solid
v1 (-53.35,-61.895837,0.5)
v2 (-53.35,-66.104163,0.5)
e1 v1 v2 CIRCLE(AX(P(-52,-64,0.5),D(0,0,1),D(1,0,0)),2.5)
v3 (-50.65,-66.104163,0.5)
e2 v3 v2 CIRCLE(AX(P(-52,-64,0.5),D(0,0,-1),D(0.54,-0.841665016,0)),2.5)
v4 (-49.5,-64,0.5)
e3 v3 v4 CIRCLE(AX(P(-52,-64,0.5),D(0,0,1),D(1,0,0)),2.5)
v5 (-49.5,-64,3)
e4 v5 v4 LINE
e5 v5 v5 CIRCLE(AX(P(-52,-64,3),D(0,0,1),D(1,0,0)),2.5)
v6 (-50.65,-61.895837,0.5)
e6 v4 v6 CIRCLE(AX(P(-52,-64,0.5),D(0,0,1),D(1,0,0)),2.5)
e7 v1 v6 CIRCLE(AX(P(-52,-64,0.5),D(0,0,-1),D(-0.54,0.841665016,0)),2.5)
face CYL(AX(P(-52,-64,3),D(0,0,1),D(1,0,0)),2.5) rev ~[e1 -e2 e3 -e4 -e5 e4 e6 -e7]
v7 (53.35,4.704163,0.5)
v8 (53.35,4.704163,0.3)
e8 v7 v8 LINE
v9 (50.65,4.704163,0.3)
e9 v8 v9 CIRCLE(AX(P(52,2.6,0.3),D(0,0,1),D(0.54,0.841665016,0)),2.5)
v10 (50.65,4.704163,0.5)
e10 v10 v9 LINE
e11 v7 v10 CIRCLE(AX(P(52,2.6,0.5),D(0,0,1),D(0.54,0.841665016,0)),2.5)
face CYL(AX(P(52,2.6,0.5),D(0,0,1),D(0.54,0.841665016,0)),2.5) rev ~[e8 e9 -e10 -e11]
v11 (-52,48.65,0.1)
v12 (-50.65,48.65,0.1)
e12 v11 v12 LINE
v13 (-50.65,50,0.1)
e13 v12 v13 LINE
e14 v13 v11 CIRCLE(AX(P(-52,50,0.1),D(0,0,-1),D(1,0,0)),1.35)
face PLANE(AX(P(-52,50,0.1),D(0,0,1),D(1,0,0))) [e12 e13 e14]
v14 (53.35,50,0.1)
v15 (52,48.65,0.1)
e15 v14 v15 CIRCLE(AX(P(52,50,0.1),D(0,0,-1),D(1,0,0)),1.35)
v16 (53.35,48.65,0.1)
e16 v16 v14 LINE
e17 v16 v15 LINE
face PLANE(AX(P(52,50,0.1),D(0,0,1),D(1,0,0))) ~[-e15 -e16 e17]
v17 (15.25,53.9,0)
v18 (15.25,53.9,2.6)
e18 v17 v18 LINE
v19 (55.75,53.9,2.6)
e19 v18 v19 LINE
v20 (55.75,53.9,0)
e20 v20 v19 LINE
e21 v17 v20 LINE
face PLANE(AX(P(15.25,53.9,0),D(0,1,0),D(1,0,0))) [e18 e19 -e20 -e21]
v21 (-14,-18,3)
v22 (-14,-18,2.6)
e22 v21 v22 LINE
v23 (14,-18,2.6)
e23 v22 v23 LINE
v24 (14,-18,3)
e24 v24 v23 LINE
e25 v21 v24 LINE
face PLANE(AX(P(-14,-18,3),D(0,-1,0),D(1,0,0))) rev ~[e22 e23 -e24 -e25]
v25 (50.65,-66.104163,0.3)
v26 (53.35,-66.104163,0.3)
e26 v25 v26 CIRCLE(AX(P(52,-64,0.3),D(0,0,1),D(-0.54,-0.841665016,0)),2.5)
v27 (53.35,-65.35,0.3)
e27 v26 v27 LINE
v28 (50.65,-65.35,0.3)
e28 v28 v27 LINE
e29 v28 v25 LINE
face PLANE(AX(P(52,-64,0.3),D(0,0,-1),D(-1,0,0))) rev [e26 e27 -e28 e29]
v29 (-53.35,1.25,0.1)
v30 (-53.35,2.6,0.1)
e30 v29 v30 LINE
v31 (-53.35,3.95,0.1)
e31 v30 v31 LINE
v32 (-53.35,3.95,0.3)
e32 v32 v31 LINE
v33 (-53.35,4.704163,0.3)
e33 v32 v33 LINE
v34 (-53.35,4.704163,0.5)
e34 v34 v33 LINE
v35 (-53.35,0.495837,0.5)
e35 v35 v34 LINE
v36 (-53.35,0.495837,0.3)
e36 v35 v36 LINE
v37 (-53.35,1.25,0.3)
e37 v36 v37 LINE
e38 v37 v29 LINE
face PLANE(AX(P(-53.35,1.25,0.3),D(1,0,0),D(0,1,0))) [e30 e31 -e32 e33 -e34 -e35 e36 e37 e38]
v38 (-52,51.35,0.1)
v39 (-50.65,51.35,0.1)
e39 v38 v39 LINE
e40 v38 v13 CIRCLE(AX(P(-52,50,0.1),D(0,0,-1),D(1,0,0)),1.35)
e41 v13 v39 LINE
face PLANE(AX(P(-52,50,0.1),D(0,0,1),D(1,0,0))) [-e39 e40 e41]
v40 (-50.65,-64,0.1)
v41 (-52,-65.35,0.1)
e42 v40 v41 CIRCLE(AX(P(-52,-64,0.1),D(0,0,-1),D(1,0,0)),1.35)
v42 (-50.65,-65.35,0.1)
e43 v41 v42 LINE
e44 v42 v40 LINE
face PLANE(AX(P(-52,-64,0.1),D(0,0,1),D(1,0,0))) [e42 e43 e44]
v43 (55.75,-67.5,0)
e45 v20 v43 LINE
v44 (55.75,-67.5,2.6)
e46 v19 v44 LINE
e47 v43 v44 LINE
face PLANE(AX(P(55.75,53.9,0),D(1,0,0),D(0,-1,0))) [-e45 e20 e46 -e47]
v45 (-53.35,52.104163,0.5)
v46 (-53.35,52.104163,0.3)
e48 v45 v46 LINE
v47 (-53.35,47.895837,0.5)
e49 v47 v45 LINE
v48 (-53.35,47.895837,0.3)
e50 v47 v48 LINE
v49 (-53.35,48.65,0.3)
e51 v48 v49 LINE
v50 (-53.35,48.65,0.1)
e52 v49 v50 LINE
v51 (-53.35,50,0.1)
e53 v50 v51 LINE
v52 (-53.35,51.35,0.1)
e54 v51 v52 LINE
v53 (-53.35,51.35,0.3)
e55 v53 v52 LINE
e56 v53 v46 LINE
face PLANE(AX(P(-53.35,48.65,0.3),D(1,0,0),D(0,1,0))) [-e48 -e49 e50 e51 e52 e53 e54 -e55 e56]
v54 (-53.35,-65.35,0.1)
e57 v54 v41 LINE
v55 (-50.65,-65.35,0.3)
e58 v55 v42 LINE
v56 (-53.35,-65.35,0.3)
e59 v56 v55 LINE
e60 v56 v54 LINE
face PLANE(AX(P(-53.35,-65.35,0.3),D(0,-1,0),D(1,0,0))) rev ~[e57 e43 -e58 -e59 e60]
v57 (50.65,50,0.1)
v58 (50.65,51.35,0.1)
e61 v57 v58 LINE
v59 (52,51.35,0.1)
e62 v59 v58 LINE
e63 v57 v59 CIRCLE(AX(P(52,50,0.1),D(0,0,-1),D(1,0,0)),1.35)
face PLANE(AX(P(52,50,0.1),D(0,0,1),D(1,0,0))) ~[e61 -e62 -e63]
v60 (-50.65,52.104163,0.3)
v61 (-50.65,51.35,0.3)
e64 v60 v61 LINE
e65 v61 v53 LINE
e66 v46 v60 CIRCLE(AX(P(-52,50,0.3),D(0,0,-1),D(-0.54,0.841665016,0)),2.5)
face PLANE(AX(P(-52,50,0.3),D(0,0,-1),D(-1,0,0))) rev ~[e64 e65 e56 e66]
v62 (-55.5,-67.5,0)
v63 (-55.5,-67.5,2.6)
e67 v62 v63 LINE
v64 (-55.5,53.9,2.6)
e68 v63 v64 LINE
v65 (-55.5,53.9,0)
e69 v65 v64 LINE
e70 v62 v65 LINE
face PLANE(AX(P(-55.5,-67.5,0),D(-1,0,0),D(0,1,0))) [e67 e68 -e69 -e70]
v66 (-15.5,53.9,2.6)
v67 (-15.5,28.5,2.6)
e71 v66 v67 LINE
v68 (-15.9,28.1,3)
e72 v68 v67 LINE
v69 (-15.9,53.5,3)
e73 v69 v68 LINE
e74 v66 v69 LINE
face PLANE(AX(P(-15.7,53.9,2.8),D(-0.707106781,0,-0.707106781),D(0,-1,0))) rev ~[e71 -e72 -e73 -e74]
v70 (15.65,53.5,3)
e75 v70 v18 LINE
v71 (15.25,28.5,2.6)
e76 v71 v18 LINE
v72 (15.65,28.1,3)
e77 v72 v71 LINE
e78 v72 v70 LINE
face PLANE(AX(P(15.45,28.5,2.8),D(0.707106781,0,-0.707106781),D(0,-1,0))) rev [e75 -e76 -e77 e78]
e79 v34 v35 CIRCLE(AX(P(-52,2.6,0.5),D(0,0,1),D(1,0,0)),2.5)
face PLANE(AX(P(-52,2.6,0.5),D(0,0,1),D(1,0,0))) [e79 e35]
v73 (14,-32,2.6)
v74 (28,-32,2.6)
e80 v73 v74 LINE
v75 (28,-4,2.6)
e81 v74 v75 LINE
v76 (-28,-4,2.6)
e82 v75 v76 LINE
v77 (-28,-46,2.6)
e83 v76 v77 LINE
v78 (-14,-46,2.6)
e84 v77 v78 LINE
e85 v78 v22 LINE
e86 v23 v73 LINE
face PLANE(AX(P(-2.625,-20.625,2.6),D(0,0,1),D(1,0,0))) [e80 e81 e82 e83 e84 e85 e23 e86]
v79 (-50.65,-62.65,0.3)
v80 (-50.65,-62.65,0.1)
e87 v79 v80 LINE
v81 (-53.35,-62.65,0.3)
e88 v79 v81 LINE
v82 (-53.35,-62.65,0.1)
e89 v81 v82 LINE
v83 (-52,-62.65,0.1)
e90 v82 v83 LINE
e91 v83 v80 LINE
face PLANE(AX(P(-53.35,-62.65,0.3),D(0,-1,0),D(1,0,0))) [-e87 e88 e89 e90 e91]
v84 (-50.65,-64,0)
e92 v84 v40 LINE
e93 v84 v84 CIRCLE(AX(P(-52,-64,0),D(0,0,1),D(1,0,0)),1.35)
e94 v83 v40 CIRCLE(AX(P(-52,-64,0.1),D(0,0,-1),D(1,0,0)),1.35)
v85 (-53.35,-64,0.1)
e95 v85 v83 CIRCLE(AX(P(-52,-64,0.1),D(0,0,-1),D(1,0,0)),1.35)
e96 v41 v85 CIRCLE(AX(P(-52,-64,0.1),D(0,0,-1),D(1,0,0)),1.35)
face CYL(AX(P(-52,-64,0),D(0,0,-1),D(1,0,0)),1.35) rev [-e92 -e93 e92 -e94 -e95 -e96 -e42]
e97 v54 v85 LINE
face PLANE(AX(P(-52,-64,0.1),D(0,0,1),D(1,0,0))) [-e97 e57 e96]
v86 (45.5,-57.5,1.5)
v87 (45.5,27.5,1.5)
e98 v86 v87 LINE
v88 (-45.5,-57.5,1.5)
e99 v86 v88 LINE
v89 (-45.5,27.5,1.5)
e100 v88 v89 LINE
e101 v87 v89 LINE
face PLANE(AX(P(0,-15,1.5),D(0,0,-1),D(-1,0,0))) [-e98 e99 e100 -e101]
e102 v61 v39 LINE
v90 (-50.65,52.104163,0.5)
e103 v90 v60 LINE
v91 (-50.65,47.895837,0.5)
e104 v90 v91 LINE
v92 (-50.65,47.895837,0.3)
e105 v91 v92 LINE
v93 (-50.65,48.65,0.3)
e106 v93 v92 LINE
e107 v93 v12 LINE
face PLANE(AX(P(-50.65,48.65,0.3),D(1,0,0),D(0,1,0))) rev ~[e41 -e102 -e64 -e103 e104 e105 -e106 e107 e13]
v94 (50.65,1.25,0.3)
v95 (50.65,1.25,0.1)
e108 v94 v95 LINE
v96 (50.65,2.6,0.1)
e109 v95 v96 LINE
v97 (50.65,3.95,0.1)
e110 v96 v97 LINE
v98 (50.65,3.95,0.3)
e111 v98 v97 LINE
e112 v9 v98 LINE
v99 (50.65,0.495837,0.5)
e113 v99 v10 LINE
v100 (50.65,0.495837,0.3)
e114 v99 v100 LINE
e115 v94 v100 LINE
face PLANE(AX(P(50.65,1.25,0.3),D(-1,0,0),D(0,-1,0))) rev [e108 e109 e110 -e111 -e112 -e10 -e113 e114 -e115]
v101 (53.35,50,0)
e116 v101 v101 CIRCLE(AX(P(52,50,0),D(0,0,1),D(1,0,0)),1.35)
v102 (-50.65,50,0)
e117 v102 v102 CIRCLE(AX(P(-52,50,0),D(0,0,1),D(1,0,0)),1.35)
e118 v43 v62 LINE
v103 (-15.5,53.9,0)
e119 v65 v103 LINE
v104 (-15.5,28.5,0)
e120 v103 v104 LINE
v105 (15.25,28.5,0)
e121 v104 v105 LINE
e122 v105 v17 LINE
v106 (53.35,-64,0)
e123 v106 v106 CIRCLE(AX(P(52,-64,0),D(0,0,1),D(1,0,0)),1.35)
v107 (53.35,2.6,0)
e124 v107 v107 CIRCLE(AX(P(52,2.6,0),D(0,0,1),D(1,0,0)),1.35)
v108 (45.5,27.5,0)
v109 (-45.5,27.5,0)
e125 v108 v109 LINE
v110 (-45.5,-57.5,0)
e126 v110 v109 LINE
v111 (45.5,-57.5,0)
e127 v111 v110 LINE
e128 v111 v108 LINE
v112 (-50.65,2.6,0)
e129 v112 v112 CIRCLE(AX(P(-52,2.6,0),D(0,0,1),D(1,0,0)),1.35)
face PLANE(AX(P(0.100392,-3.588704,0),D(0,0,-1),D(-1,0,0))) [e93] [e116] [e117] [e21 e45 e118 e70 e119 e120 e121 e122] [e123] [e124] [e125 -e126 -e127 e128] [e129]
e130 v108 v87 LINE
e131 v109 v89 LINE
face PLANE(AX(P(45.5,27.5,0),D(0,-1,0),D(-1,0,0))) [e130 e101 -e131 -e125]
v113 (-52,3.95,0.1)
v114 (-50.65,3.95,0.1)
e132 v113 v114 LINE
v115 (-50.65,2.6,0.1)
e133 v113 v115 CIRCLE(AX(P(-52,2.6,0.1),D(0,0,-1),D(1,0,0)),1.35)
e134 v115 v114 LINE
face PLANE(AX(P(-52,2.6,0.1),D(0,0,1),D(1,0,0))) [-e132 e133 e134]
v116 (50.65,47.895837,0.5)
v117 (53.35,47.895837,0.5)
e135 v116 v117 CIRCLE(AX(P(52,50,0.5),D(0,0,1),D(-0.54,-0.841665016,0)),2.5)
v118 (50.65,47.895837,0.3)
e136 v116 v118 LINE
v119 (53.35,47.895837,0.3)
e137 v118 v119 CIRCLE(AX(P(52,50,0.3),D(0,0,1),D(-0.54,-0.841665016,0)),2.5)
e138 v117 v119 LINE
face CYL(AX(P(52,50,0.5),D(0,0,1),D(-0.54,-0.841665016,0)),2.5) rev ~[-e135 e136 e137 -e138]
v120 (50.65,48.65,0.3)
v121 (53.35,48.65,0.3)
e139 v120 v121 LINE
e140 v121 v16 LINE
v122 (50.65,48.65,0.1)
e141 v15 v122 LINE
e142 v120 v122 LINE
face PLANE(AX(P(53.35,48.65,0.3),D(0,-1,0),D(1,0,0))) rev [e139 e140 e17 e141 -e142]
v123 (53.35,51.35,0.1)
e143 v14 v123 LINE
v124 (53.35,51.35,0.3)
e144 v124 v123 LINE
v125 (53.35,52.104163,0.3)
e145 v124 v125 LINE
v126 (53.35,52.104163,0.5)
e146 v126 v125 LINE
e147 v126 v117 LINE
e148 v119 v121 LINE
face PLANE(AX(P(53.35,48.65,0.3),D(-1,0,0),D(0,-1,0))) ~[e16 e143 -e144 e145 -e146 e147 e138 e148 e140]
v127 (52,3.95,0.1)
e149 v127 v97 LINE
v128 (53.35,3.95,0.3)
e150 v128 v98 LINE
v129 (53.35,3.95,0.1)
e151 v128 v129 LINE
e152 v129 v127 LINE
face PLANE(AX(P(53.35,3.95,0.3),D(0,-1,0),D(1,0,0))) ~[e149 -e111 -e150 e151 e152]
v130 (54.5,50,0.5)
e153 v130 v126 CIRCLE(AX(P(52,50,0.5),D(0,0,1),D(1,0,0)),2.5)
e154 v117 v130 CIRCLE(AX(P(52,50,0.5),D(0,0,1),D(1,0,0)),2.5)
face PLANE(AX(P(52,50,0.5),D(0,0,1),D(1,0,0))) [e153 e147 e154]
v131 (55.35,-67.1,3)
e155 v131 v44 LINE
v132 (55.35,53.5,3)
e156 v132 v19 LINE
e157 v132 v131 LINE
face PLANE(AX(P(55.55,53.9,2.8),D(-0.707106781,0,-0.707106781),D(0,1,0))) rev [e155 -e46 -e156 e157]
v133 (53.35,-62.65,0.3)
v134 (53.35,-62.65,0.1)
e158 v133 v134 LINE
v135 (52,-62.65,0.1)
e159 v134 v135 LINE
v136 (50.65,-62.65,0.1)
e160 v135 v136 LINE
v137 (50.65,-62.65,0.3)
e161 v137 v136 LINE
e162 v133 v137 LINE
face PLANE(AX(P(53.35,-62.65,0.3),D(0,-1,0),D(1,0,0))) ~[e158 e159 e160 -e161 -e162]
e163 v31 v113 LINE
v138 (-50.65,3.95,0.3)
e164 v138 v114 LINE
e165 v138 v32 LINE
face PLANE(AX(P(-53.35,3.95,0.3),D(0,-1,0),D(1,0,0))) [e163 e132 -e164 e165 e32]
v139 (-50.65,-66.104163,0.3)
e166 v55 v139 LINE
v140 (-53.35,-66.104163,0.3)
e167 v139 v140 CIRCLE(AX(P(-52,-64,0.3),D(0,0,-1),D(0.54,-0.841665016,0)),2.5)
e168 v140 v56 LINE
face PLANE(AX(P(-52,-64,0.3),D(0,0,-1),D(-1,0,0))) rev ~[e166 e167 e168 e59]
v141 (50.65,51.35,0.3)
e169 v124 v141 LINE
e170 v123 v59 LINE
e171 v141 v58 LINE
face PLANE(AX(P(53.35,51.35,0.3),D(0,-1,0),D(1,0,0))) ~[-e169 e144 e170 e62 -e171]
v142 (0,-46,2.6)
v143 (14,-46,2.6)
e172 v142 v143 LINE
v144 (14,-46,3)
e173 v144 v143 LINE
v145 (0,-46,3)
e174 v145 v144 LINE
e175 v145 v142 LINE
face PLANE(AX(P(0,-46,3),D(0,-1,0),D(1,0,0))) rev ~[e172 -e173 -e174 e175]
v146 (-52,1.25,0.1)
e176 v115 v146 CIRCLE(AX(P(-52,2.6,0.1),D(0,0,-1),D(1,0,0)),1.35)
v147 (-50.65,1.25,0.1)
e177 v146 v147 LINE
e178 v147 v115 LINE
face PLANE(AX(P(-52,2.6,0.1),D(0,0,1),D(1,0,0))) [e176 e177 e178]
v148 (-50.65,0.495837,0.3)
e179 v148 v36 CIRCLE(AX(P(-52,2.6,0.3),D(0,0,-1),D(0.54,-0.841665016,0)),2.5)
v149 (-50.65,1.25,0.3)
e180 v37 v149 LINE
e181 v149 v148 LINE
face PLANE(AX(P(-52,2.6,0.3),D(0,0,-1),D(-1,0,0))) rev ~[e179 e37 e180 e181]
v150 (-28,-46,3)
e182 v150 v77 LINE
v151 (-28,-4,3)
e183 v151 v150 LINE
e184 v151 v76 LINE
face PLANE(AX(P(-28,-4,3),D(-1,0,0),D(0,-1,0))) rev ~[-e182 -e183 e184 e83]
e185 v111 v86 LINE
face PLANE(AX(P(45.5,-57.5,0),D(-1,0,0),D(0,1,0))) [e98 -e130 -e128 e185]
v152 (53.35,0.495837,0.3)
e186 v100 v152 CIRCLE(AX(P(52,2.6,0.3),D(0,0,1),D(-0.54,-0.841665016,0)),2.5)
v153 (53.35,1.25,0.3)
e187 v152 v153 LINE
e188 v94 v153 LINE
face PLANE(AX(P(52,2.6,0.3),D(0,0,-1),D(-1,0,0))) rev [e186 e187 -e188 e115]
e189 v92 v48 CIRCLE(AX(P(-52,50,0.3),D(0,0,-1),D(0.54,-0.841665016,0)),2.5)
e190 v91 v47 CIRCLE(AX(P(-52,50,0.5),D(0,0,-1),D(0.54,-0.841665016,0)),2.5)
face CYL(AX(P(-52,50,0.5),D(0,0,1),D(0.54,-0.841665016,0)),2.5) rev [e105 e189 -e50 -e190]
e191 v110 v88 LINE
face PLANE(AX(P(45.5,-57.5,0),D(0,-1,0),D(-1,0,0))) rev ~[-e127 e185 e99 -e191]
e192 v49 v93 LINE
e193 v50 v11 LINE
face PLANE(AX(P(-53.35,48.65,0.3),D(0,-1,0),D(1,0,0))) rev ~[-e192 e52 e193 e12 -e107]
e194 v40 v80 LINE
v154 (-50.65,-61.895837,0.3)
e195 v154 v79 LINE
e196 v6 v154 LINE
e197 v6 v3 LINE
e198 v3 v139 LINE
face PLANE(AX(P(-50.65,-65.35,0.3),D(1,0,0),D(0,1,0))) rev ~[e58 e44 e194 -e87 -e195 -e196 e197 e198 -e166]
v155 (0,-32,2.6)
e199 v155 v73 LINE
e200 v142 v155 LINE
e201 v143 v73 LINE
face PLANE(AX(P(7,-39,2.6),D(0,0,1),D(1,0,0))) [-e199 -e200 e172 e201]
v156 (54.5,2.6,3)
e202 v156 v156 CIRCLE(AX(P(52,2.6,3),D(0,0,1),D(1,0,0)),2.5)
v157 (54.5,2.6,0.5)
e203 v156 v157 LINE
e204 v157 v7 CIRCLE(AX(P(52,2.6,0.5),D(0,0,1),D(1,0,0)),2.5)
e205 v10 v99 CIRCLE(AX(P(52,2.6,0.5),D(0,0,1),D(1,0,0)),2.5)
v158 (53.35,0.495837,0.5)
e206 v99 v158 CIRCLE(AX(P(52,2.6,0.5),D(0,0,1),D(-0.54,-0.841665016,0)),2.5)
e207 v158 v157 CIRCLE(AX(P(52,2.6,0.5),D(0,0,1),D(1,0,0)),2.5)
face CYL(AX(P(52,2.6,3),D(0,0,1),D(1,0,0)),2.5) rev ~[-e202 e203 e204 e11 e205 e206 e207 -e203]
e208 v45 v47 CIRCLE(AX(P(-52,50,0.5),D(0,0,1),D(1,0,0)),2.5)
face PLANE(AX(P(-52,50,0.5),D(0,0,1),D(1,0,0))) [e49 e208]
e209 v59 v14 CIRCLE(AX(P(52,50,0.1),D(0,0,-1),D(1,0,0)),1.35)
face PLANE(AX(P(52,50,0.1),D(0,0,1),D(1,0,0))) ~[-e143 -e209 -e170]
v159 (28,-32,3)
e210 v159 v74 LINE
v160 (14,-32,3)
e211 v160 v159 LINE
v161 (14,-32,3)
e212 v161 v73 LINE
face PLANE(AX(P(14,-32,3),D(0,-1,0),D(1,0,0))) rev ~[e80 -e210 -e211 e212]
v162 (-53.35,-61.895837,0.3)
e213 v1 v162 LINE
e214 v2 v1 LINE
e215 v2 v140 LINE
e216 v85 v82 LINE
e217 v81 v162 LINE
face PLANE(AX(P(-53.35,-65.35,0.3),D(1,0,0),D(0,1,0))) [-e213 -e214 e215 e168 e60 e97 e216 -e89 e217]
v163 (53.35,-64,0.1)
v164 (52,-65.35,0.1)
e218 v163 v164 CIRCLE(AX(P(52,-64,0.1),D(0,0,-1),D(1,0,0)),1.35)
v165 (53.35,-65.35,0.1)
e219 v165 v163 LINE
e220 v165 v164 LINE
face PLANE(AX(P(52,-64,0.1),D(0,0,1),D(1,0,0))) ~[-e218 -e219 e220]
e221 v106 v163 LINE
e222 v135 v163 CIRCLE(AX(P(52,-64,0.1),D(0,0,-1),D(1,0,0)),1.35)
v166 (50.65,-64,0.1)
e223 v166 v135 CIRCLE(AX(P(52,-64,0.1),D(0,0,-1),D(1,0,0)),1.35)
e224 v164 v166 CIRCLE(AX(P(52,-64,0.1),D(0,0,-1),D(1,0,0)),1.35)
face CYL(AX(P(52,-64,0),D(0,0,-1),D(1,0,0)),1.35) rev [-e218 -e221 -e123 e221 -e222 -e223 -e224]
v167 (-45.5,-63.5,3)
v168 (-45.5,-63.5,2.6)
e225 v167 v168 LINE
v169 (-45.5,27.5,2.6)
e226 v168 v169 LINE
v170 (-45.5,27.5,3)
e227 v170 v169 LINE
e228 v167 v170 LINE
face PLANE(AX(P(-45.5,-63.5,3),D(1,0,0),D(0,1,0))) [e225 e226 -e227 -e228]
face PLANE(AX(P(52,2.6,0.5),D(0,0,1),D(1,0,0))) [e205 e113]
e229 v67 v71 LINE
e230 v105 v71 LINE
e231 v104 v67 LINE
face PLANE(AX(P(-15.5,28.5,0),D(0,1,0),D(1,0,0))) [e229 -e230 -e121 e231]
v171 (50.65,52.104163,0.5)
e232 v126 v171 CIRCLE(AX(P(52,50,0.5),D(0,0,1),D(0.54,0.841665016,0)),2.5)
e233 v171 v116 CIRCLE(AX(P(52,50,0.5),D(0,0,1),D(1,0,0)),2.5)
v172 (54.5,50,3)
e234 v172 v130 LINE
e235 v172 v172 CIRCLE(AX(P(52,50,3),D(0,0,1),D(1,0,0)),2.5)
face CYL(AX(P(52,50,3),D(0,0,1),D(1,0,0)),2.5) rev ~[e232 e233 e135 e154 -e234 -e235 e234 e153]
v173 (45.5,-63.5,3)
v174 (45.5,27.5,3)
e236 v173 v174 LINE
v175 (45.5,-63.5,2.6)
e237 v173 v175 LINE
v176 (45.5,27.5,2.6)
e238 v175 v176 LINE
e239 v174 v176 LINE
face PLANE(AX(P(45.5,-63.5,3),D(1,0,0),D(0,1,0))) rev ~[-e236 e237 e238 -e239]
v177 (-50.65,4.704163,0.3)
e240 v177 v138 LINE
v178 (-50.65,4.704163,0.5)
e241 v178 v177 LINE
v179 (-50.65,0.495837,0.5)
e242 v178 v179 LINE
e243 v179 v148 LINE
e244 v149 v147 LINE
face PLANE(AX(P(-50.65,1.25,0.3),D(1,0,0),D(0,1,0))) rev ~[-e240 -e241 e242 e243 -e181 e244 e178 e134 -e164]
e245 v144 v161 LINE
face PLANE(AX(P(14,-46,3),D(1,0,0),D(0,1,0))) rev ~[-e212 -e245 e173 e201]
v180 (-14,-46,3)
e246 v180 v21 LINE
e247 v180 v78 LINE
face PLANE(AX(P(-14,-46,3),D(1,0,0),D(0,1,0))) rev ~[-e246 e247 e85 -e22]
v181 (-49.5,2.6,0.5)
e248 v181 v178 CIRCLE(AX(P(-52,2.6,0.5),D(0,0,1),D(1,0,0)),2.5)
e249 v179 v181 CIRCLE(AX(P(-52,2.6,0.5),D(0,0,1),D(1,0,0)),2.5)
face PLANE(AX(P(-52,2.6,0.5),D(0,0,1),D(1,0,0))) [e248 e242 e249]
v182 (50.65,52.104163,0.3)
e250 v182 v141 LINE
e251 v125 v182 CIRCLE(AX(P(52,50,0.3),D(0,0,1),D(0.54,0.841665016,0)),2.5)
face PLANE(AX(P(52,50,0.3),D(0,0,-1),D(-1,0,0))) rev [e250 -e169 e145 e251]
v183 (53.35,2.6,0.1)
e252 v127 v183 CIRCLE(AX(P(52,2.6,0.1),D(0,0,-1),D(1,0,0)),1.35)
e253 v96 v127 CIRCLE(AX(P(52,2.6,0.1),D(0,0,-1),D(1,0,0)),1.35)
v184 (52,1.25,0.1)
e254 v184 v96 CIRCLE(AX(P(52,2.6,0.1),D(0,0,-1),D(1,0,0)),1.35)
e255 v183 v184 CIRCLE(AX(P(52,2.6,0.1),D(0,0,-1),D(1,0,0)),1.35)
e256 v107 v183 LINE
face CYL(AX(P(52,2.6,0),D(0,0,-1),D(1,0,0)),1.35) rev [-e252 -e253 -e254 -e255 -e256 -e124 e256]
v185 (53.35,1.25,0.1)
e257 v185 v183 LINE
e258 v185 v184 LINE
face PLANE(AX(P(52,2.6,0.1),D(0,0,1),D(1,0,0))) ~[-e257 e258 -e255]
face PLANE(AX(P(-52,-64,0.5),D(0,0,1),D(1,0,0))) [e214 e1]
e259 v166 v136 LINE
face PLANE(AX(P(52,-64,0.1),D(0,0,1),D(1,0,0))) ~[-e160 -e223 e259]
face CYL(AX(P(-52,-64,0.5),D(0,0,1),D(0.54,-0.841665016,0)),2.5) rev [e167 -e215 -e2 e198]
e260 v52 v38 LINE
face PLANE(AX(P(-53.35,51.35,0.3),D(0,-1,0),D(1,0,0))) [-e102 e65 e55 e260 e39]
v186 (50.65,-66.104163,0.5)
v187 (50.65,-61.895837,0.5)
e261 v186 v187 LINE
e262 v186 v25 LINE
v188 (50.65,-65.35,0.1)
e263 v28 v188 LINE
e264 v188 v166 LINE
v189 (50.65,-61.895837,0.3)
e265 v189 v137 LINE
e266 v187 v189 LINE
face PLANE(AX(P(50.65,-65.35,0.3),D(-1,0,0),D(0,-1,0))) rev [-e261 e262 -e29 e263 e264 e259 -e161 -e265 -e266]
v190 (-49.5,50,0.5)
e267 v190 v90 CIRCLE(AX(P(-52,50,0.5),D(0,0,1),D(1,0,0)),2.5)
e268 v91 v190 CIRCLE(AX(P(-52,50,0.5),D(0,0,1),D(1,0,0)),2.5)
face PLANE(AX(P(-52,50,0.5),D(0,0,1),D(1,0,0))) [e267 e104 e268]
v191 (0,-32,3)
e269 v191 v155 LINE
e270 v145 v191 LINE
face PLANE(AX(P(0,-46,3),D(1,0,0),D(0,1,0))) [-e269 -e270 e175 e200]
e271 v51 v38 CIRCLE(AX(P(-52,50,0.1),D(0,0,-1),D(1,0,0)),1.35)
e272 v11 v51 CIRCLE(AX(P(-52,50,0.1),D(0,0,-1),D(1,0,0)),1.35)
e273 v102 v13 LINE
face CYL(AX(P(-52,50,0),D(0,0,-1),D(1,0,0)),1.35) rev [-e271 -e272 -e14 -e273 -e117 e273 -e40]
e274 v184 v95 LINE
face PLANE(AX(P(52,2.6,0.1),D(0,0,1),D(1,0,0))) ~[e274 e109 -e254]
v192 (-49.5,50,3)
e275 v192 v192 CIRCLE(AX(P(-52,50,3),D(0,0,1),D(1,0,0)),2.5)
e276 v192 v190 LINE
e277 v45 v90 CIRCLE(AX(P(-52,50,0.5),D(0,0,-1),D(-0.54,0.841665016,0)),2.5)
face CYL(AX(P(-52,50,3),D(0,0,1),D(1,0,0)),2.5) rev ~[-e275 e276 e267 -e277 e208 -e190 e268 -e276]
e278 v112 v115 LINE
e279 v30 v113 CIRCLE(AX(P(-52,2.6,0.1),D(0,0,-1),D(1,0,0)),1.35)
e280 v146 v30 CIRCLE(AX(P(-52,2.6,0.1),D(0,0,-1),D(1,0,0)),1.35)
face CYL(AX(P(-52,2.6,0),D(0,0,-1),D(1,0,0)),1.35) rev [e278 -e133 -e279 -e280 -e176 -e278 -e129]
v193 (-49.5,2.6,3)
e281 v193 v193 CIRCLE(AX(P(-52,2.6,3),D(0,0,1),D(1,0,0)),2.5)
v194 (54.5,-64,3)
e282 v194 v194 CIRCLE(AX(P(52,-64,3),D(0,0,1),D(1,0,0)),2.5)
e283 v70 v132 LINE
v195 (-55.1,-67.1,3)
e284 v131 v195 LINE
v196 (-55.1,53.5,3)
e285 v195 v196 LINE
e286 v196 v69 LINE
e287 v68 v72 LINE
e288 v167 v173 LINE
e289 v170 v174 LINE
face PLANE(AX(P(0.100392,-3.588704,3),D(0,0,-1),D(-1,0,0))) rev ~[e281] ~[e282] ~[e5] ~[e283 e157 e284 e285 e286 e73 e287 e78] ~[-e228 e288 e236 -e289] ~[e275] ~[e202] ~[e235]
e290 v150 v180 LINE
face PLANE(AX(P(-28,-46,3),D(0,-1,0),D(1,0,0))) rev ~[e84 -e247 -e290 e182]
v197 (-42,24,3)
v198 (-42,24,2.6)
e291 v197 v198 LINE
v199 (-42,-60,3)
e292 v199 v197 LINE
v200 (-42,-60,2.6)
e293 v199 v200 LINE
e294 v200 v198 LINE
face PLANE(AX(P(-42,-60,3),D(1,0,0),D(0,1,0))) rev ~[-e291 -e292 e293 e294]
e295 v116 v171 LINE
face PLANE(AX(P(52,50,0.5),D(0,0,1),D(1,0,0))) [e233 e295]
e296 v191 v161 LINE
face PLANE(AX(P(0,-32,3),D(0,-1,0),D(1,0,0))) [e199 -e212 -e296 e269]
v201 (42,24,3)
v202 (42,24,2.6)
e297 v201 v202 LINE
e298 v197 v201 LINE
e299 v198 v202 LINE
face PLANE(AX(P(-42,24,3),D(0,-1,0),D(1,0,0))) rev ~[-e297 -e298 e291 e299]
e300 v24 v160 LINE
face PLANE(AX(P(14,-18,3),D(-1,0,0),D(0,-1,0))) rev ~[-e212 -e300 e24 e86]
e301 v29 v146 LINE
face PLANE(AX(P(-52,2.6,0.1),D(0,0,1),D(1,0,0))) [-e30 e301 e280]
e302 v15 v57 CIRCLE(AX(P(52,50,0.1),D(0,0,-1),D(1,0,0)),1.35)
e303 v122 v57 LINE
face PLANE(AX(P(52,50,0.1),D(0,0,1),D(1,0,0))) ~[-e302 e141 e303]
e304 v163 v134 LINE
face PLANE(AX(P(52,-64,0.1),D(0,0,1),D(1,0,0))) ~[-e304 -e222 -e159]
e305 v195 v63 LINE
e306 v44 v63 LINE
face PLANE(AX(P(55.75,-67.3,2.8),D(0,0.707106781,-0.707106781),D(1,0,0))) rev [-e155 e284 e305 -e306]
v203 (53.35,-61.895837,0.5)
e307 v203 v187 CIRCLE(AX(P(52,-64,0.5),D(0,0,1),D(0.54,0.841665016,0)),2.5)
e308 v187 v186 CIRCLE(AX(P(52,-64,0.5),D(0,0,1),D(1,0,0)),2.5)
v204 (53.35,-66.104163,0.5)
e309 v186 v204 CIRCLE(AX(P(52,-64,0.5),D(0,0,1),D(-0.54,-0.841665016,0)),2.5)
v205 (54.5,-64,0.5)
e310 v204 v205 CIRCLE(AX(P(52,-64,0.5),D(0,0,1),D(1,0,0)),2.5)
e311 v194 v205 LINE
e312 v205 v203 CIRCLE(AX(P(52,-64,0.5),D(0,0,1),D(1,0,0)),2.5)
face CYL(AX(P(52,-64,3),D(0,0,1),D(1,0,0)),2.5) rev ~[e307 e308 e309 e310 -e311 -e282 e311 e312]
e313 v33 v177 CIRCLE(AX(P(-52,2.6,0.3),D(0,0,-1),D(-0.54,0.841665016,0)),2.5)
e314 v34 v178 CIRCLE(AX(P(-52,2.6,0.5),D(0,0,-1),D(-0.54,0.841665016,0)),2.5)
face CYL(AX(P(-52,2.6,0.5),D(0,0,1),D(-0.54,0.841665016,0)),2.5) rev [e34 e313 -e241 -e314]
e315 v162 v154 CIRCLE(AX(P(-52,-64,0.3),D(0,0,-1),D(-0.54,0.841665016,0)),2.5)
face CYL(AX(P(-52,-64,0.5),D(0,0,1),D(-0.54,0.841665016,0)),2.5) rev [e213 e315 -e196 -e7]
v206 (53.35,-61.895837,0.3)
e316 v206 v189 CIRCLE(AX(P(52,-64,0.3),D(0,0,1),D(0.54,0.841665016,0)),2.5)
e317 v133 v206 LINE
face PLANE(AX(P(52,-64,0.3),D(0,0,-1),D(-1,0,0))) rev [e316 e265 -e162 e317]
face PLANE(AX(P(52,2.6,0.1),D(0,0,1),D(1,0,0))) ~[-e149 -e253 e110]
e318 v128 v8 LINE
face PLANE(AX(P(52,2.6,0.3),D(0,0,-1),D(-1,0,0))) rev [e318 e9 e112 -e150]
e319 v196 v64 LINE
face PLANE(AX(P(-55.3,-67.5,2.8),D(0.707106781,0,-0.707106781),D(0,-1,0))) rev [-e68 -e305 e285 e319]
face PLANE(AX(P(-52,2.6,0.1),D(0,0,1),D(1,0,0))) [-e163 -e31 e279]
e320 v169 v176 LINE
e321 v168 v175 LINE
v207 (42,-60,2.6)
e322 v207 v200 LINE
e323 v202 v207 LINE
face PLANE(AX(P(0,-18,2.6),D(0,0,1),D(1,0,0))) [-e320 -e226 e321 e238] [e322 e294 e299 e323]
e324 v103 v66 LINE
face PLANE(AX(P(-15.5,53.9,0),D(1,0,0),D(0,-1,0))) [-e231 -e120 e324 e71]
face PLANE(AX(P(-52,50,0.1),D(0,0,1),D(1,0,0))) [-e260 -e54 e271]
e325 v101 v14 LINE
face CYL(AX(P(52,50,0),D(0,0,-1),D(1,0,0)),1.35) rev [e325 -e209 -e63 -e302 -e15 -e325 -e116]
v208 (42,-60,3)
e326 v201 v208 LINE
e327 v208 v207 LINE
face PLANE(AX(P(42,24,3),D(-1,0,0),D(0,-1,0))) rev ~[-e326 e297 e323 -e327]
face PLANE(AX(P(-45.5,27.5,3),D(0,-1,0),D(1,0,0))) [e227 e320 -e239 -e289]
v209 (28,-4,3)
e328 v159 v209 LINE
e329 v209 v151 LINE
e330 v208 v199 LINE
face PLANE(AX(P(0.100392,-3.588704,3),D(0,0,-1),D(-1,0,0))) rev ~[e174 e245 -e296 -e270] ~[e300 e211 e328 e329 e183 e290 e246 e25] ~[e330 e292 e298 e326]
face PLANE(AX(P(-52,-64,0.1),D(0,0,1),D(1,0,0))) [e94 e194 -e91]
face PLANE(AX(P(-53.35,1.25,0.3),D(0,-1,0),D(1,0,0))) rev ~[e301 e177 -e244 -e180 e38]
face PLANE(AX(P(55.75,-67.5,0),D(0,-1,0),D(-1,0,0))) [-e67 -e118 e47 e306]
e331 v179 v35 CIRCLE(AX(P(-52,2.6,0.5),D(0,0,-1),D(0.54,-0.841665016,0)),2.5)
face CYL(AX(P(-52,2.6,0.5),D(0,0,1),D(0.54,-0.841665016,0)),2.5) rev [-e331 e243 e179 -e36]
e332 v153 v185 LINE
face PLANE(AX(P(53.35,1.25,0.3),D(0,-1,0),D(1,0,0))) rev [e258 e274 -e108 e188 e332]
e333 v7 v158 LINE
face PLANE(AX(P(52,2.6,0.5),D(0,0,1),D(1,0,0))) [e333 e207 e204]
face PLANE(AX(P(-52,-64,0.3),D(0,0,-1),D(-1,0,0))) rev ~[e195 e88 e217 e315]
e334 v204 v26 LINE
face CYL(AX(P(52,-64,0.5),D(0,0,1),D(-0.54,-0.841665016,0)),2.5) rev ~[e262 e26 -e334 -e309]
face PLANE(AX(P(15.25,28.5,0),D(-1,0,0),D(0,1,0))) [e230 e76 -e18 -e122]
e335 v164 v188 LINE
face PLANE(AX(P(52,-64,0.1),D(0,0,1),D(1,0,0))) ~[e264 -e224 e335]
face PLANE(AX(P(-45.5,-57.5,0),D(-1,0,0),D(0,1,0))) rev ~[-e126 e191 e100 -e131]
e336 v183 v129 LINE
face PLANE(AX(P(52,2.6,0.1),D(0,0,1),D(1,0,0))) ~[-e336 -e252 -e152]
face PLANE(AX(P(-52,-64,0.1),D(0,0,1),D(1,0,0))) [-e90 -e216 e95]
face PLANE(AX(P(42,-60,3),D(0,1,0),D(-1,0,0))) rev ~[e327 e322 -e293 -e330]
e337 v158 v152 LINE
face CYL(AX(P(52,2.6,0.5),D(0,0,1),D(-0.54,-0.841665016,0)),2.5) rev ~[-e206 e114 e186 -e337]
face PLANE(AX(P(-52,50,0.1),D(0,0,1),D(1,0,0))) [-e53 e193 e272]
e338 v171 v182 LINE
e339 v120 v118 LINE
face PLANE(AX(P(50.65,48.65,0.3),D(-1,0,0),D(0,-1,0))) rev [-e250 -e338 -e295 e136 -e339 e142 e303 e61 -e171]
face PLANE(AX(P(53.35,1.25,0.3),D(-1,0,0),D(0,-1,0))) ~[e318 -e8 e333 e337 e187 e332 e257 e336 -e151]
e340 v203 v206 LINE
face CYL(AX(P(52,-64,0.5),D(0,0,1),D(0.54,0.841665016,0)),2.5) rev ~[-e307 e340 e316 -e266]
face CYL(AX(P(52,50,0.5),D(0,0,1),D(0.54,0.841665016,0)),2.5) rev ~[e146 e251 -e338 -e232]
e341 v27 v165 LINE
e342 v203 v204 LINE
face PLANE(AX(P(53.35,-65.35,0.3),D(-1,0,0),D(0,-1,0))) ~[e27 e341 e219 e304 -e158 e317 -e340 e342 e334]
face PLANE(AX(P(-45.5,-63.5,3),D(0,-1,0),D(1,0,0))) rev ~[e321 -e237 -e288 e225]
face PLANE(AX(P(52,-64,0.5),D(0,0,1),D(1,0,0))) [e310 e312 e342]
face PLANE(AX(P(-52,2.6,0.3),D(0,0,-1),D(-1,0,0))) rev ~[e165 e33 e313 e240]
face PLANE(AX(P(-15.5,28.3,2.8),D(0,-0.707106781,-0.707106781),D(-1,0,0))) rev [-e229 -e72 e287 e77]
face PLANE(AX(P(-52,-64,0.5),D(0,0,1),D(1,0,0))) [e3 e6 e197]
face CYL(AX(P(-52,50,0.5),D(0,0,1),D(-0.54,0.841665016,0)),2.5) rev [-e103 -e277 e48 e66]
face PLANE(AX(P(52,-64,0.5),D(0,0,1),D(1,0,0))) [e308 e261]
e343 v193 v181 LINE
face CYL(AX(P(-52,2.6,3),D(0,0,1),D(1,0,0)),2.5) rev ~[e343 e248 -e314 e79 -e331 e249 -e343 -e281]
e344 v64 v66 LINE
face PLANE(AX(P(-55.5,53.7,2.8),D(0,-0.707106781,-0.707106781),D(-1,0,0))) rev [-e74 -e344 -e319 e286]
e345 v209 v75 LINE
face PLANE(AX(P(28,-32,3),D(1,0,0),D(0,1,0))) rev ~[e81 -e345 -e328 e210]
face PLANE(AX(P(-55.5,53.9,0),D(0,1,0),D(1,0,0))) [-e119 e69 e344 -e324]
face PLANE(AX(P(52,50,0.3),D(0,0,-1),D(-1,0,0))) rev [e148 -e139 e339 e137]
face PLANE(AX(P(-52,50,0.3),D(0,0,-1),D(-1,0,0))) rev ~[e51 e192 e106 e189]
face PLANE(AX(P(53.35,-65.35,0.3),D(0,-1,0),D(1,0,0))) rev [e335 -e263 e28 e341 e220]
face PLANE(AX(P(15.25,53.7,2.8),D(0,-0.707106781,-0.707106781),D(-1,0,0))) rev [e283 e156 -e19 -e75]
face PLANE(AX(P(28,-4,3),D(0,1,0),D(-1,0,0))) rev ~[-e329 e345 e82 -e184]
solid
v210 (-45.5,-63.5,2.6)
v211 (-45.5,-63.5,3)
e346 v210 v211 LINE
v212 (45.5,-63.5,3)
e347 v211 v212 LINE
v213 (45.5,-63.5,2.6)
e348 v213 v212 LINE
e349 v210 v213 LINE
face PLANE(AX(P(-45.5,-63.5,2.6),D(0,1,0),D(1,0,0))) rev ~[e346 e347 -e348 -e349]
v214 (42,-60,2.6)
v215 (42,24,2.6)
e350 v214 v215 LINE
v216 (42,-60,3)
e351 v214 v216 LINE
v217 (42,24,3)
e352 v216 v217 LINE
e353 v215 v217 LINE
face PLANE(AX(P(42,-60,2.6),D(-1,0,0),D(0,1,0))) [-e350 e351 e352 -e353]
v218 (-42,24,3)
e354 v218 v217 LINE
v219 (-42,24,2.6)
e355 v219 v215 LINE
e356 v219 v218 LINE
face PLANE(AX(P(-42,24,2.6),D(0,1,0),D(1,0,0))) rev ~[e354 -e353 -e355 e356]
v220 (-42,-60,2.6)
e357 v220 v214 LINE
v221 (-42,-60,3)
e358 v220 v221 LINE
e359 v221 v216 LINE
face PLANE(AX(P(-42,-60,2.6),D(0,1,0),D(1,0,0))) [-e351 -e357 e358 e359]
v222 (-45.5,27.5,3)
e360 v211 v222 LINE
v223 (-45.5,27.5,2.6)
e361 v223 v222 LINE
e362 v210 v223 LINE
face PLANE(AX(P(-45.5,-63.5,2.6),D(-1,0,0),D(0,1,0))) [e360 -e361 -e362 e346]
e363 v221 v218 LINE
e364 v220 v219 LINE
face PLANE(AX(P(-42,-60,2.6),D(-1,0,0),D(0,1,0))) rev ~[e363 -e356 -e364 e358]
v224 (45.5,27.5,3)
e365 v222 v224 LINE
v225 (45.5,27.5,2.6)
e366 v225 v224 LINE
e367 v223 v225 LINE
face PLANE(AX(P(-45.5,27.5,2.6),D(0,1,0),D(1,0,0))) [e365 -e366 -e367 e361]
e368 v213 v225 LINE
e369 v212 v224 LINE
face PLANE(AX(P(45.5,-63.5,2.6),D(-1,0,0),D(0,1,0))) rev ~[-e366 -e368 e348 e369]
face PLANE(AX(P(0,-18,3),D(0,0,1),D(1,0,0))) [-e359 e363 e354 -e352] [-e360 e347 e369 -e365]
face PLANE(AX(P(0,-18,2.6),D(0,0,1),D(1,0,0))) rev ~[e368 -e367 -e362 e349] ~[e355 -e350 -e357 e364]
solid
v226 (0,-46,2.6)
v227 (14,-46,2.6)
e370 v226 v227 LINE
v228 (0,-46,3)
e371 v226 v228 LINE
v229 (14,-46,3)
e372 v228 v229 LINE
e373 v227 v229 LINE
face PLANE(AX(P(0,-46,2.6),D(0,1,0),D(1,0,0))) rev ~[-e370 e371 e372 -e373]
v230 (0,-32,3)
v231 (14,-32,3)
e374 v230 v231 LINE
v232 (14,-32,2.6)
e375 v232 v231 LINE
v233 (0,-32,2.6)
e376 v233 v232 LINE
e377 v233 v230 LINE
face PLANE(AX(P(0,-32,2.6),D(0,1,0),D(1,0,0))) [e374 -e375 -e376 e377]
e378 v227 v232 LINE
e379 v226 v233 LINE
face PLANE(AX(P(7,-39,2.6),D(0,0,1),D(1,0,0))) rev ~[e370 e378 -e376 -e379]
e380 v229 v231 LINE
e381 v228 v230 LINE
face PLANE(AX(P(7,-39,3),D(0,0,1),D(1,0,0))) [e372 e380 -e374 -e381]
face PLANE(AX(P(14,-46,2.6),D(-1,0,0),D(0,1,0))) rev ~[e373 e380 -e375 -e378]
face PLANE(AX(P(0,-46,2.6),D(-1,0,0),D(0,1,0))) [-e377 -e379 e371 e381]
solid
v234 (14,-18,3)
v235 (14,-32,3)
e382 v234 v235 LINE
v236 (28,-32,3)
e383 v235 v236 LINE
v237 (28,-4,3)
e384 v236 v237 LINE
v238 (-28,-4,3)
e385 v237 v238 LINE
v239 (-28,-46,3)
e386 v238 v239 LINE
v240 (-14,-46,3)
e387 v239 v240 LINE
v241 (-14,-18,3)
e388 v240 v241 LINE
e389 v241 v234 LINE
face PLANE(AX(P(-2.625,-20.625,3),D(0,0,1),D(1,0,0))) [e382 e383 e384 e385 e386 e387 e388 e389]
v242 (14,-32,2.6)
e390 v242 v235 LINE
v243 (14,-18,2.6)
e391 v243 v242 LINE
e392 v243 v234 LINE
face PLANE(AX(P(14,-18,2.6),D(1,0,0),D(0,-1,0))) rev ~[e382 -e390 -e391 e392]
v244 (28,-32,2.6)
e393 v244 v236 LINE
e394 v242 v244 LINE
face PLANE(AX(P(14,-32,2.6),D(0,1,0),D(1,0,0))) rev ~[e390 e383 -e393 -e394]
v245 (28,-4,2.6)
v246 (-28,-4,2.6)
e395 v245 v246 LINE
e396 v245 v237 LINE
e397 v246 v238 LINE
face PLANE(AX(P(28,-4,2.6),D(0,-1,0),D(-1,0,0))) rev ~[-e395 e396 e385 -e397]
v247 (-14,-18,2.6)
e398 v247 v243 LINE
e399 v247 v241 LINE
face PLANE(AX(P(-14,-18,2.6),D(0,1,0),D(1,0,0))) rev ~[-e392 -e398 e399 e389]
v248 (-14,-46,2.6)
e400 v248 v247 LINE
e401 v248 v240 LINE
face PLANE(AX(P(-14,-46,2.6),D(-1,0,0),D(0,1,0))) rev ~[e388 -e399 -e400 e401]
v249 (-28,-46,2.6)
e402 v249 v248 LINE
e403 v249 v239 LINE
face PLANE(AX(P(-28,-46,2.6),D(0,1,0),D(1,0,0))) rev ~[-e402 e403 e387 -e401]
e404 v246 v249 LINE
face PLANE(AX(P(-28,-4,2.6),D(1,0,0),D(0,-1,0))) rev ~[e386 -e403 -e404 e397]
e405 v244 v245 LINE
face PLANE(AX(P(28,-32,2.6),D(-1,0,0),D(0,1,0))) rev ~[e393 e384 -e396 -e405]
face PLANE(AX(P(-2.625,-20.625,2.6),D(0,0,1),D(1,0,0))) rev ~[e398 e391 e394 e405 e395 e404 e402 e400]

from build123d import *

# Parameters (mm, degrees)
SKETCH1_R             = 1.35
BOSS_EXTRUDE1_DEPTH   = 3
SKETCH3_R             = 2.5
CUT_EXTRUDE1_DEPTH    = 2.5
SKETCH4_W             = 91
SKETCH4_H             = 85
CUT_EXTRUDE2_DEPTH    = 1.5
CUT_EXTRUDE3_DEPTH    = 0.2
SKETCH6_W             = 2.7
SKETCH6_H             = 2.7
CUT_EXTRUDE4_DEPTH    = 0.2
CHAMFER1_SIZE         = 0.4
SKETCH7_W             = 91
SKETCH7_H             = 91
CUT_EXTRUDE5_DEPTH    = 0.4
SKETCH8_W             = 91
SKETCH8_H             = 91
SKETCH8_W_2           = 84
SKETCH8_H_2           = 84
BOSS_EXTRUDE2_DEPTH   = 0.4
SKETCH9_W             = 14
SKETCH9_H             = 14
CUT_EXTRUDE6_DEPTH    = 0.4
SKETCH10_W            = 14
SKETCH10_H            = 14
BOSS_EXTRUDE3_DEPTH   = 0.4
BOSS_EXTRUDE3_2_DEPTH = 0.4


with BuildPart() as part:
    # Sketch1 → Boss-Extrude1 (new body)
    with BuildSketch(Plane.XY):
        Polygon((-15.5, 53.9), (-15.5, 28.5), (15.25, 28.5), (15.25, 53.9), (55.75, 53.9), (55.75, -67.5), (-55.5, -67.5), (-55.5, 53.9), align=None)
        with Locations((-52, 50)):
            Circle(SKETCH1_R, mode=Mode.SUBTRACT)
        with Locations((-52, 2.6)):
            Circle(SKETCH1_R, mode=Mode.SUBTRACT)
        with Locations((-52, -64)):
            Circle(SKETCH1_R, mode=Mode.SUBTRACT)
        with Locations((52, 50)):
            Circle(SKETCH1_R, mode=Mode.SUBTRACT)
        with Locations((52, 2.6)):
            Circle(SKETCH1_R, mode=Mode.SUBTRACT)
        with Locations((52, -64)):
            Circle(SKETCH1_R, mode=Mode.SUBTRACT)
    extrude(amount=BOSS_EXTRUDE1_DEPTH)

    # Sketch3 → Cut-Extrude1 (cut)
    with BuildSketch(Plane.XY.offset(3)):
        with Locations((-52, 50)):
            Circle(SKETCH3_R)
        with Locations((-52, 2.6)):
            Circle(SKETCH3_R)
        with Locations((-52, -64)):
            Circle(SKETCH3_R)
        with Locations((52, -64)):
            Circle(SKETCH3_R)
        with Locations((52, 2.6)):
            Circle(SKETCH3_R)
        with Locations((52, 50)):
            Circle(SKETCH3_R)
    extrude(amount=-CUT_EXTRUDE1_DEPTH, mode=Mode.SUBTRACT)

    # Sketch4 → Cut-Extrude2 (cut)
    with BuildSketch(Plane(origin=(0, 0, 0), x_dir=(-1, 0, 0), z_dir=(0, 0, -1))):
        with Locations((0, -15)):
            Rectangle(SKETCH4_W, SKETCH4_H)
    extrude(amount=-CUT_EXTRUDE2_DEPTH, mode=Mode.SUBTRACT)

    # Sketch5 → Cut-Extrude3 (cut)
    with BuildSketch(Plane.XY.offset(0.5)):
        with BuildLine():
            Line((-53.35, 47.895837459), (-53.35, 52.104162541))
            ThreePointArc((-53.35, 52.104162541), (-52, 52.5), (-50.65, 52.104162541))
            Line((-50.65, 52.104162541), (-50.65, 47.895837459))
            ThreePointArc((-50.65, 47.895837459), (-52, 47.5), (-53.35, 47.895837459))
        make_face()
        with BuildLine():
            Line((-53.35, 0.495837459), (-53.35, 4.704162541))
            ThreePointArc((-53.35, 4.704162541), (-52, 5.1), (-50.65, 4.704162541))
            Line((-50.65, 4.704162541), (-50.65, 0.495837459))
            ThreePointArc((-50.65, 0.495837459), (-52, 0.1), (-53.35, 0.495837459))
        make_face()
        with BuildLine():
            Line((-53.35, -66.104162541), (-53.35, -61.895837459))
            ThreePointArc((-53.35, -61.895837459), (-52, -61.5), (-50.65, -61.895837459))
            Line((-50.65, -61.895837459), (-50.65, -66.104162541))
            ThreePointArc((-50.65, -66.104162541), (-52, -66.5), (-53.35, -66.104162541))
        make_face()
    cut_extrude3 = extrude(amount=-CUT_EXTRUDE3_DEPTH, mode=Mode.SUBTRACT)

    # Sketch6 → Cut-Extrude4 (cut)
    with BuildSketch(Plane.XY.offset(0.3)):
        with Locations((-52, -64)):
            Rectangle(SKETCH6_W, SKETCH6_H)
        with Locations((-52, 2.6)):
            Rectangle(SKETCH6_W, SKETCH6_H)
        with Locations((-52, 50)):
            Rectangle(SKETCH6_W, SKETCH6_H)
    cut_extrude4 = extrude(amount=-CUT_EXTRUDE4_DEPTH, mode=Mode.SUBTRACT)

    # Mirror1: Cut-Extrude3, Cut-Extrude4 across plane
    add(cut_extrude3.mirror(Plane(origin=(0, 0, 0), x_dir=(0, 0, 1), z_dir=(1, 0, 0))), mode=Mode.SUBTRACT)
    add(cut_extrude4.mirror(Plane(origin=(0, 0, 0), x_dir=(0, 0, 1), z_dir=(1, 0, 0))), mode=Mode.SUBTRACT)

    # Chamfer1
    chamfer1_edges = [part.edges().sort_by_distance(p)[0] for p in [
        (55.75, -6.8, 3),
        (35.5, 53.9, 3),
        (15.25, 41.2, 3),
        (-0.125, 28.5, 3),
        (-15.5, 41.2, 3),
        (-35.5, 53.9, 3),
        (-55.5, -6.8, 3),
        (0.125, -67.5, 3),
    ]]
    chamfer(chamfer1_edges, length=CHAMFER1_SIZE)

    # Sketch7 → Cut-Extrude5 (cut)
    with BuildSketch(Plane.XY.offset(3)):
        with Locations((0, -18)):
            Rectangle(SKETCH7_W, SKETCH7_H)
        Polygon((28, 24), (42, 24), (42, 10), (42, -4), (42, -18), (42, -32), (42, -46), (42, -60), (28, -60), (14, -60), (0, -60), (-14, -60), (-28, -60), (-42, -60), (-42, -46), (-42, -32), (-42, -18), (-42, -4), (-42, 10), (-42, 24), (-28, 24), (-14, 24), (0, 24), (14, 24), align=None, mode=Mode.SUBTRACT)
    extrude(amount=-CUT_EXTRUDE5_DEPTH, mode=Mode.SUBTRACT)

    # Sketch9 → Cut-Extrude6 (cut)
    with BuildSketch(Plane.XY.offset(3)):
        with Locations((7, -39)):
            Rectangle(SKETCH9_W, SKETCH9_H)
        Polygon((-28, -18), (-28, -32), (-28, -46), (-14, -46), (-14, -32), (-14, -18), (0, -18), (14, -18), (14, -32), (28, -32), (28, -18), (28, -4), (14, -4), (0, -4), (-14, -4), (-28, -4), align=None)
    extrude(amount=-CUT_EXTRUDE6_DEPTH, mode=Mode.SUBTRACT)


with BuildPart() as body_2:
    # Sketch8 → Boss-Extrude2 (new body)
    with BuildSketch(Plane.XY.offset(2.6)):
        with Locations((0, -18)):
            Rectangle(SKETCH8_W, SKETCH8_H)
        with Locations((0, -18)):
            Rectangle(SKETCH8_W_2, SKETCH8_H_2, mode=Mode.SUBTRACT)
    extrude(amount=BOSS_EXTRUDE2_DEPTH)


with BuildPart() as body_3:
    # Sketch10 → Boss-Extrude3 (new body)
    with BuildSketch(Plane.XY.offset(2.6)):
        with Locations((7, -39)):
            Rectangle(SKETCH10_W, SKETCH10_H)
    extrude(amount=BOSS_EXTRUDE3_DEPTH)


with BuildPart() as body_4:
    # Sketch10 → Boss-Extrude3 2 (new body)
    with BuildSketch(Plane.XY.offset(2.6)):
        Polygon((14, -18), (14, -32), (28, -32), (28, -4), (-28, -4), (-28, -46), (-14, -46), (-14, -18), align=None)
    extrude(amount=BOSS_EXTRUDE3_2_DEPTH)


solid = Compound([part.part, body_2.part, body_3.part, body_4.part])
